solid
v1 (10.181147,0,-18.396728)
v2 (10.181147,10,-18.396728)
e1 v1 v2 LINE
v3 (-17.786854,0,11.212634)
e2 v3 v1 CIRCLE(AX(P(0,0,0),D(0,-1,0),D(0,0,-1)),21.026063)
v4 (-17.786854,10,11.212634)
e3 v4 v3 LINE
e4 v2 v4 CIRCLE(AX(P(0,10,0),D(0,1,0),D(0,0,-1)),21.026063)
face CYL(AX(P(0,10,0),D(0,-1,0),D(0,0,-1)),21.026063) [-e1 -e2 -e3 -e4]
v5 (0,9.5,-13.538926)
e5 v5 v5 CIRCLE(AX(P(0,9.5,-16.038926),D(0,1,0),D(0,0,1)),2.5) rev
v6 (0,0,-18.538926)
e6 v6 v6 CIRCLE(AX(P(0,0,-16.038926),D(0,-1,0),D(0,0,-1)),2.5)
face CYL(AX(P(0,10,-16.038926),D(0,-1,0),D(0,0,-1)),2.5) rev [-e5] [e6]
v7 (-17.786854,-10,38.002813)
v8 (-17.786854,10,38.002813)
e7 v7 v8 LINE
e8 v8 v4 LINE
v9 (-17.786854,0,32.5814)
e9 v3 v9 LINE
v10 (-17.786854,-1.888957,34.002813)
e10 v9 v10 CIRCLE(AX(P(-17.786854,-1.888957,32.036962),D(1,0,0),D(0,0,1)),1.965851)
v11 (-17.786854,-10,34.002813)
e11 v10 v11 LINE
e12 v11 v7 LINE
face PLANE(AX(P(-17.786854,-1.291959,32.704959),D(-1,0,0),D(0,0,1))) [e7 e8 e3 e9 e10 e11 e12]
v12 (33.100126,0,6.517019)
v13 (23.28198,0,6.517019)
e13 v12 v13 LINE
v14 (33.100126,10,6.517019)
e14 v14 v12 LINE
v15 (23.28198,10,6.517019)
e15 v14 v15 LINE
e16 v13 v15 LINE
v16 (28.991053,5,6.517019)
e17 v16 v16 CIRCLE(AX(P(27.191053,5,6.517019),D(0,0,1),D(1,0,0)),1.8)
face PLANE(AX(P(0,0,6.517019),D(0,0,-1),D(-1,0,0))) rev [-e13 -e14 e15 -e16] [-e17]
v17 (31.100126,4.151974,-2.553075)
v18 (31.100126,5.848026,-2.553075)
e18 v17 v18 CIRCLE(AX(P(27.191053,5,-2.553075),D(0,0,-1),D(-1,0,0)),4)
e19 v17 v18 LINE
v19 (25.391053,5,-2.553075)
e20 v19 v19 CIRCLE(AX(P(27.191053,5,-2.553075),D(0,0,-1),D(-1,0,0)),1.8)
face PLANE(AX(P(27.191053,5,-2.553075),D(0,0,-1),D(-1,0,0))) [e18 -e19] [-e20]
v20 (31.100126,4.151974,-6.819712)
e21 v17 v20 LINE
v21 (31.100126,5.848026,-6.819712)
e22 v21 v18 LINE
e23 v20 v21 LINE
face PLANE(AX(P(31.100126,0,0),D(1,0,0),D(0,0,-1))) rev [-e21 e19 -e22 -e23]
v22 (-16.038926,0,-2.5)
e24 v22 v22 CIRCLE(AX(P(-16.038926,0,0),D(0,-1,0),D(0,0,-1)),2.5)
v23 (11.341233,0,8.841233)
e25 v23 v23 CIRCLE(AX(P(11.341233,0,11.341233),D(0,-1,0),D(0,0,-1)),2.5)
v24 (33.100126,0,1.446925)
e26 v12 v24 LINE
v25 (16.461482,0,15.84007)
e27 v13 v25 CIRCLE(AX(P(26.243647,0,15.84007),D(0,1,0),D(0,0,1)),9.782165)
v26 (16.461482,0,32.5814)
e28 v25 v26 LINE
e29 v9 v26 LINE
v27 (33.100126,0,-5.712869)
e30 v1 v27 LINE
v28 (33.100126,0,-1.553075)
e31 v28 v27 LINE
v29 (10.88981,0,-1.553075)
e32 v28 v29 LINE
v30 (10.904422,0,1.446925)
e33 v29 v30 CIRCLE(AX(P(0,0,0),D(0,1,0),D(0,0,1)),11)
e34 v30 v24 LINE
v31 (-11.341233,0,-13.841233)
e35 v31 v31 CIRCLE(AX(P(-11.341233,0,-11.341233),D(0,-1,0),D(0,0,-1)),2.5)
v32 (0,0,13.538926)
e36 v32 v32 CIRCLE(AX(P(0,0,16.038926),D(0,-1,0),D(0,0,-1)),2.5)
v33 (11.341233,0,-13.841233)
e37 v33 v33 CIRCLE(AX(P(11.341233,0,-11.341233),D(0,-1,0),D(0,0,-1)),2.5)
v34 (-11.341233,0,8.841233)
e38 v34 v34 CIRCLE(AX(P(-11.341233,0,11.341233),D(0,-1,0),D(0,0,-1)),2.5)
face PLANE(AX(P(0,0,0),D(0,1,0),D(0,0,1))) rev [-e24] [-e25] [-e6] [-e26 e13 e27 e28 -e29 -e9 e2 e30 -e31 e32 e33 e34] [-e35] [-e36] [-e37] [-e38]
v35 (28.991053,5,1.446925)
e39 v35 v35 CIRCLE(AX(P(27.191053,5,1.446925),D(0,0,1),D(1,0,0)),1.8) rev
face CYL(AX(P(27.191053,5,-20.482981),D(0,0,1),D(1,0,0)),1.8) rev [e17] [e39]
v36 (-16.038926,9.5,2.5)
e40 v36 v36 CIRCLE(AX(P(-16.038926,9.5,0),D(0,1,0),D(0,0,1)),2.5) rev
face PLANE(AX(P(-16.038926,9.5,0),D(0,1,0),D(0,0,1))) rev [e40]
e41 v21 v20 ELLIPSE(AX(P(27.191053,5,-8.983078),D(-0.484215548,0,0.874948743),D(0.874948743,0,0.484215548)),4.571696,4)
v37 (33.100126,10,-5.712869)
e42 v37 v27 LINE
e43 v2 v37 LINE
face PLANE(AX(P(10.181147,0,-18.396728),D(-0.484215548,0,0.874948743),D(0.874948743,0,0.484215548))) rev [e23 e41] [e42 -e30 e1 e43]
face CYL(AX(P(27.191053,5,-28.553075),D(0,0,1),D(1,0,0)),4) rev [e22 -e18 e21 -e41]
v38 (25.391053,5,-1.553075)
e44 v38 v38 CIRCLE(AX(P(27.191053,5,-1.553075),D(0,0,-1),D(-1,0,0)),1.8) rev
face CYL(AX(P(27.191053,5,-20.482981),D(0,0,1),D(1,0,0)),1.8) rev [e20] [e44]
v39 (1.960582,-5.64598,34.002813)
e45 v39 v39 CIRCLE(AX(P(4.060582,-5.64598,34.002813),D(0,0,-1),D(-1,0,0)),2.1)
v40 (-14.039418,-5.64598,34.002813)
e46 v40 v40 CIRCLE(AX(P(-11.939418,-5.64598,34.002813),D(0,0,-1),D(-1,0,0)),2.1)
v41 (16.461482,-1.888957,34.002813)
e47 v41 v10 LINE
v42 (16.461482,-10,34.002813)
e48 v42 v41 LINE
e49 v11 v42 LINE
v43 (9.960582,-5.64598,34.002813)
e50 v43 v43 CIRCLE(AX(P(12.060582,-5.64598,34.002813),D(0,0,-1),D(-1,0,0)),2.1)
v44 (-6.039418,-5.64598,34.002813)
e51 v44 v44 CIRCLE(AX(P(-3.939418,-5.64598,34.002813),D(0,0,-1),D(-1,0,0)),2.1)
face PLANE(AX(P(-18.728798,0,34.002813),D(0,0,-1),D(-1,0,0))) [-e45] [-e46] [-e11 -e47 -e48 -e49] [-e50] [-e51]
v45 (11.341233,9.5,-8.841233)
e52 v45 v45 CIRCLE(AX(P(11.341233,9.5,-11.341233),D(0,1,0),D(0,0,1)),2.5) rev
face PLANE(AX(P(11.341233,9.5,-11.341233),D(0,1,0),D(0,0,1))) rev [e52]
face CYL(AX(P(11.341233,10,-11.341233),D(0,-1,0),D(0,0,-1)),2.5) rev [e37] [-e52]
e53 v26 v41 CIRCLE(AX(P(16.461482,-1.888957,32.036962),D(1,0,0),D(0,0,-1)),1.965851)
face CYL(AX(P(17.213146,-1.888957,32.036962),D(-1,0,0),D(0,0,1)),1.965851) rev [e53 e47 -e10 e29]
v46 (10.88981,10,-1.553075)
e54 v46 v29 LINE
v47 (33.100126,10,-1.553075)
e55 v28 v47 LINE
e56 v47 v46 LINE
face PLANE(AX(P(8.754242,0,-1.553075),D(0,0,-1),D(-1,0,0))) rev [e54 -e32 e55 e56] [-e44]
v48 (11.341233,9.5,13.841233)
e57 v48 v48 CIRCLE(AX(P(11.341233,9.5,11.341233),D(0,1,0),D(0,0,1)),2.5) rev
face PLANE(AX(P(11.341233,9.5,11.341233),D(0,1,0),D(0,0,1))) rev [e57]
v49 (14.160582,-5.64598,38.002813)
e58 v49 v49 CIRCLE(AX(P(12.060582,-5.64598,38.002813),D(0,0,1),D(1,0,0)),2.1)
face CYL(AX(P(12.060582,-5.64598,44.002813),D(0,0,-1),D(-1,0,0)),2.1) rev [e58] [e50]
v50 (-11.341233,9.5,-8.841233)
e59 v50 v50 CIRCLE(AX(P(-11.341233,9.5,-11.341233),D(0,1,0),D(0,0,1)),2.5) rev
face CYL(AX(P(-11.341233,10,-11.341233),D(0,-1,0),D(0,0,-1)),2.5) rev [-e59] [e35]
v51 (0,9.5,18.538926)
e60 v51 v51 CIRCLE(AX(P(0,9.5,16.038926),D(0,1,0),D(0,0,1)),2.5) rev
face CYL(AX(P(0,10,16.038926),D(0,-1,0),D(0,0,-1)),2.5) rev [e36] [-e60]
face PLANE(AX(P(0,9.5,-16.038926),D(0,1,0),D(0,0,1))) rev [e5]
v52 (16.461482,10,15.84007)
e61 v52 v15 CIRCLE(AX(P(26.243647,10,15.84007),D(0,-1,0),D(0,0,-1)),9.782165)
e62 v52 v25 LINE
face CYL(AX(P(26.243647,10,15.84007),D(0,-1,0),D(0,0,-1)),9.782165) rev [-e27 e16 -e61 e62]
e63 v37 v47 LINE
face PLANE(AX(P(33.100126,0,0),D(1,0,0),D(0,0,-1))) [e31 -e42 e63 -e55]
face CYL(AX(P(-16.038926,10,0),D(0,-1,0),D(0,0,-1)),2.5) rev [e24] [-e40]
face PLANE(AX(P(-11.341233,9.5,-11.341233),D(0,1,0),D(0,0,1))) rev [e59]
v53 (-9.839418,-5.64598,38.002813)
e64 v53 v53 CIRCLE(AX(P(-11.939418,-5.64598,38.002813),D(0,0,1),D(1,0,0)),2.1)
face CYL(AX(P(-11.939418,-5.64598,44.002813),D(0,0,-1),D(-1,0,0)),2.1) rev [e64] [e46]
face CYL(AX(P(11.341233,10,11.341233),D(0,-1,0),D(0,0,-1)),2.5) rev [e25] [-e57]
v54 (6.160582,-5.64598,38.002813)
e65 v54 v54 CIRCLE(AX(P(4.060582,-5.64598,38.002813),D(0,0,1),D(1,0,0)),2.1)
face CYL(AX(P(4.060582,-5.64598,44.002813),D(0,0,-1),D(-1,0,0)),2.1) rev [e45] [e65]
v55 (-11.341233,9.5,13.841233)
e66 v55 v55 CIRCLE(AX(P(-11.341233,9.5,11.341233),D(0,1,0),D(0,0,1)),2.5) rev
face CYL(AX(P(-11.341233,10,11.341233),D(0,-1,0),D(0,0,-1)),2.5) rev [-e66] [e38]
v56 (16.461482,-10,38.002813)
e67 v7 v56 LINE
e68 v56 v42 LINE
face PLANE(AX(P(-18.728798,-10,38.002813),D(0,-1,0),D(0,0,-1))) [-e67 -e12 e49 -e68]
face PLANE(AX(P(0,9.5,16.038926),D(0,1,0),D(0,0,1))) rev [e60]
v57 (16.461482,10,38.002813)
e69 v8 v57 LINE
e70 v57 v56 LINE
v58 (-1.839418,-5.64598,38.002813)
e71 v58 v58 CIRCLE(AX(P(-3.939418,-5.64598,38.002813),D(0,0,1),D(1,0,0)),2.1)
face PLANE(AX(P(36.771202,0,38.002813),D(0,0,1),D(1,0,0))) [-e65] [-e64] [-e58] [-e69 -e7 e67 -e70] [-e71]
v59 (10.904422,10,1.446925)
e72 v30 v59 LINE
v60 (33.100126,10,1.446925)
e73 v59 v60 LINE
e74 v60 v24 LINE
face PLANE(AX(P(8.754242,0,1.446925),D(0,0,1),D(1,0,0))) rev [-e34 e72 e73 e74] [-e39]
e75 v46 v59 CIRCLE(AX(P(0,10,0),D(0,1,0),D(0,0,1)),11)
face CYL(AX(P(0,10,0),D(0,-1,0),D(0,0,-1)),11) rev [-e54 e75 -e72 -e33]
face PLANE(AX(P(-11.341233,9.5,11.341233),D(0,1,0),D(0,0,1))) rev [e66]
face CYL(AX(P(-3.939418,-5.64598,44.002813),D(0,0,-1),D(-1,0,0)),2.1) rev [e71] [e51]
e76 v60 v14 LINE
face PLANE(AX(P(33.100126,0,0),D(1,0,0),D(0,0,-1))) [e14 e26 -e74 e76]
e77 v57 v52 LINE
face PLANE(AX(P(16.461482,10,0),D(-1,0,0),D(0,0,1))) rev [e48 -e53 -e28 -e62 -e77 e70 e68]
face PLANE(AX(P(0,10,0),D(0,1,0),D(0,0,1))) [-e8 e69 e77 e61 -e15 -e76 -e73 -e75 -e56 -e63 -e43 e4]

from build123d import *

# Parameters (mm, degrees)
SKETCH_1_R                       = 27
SKETCH_1_R_2                     = 11
EXTRUDE_1_DEPTH                  = 10
SKETCH_2_W                       = 22.095017754
SKETCH_2_H                       = 3
CUT_EXTRUDE_5_DEPTH              = 10
EXTRUDE_6_DEPTH                  = 10
EXTRUDE_7_DEPTH                  = 10
SKETCH_5_W                       = 10
SKETCH_5_H                       = 31.875888506
CUT_EXTRUDE_6_DEPTH              = 10
EXTRUDE_8_DEPTH                  = 10
SKETCH_7_R                       = 1.8
CUT_EXTRUDE_7_DEPTH              = 25
SKETCH_9_R                       = 3
CUT_EXTRUDE_8_DEPTH              = 25
SKETCH_10_R                      = 3
SKETCH_10_R_2                    = 1.8
EXTRUDE_9_DEPTH                  = 10
SKETCH_11_W                      = 6.352022703
SKETCH_11_H                      = 3
CUT_EXTRUDE_9_DEPTH              = 10
CUT_EXTRUDE_START                = -10
CUT_EXTRUDE_11_DEPTH             = 10
SKETCH_19_W                      = 12.590596853
SKETCH_19_H                      = 36.443103769
EXTRUDE_10_DEPTH                 = 10
CUT_EXTRUDE_16_DEPTH             = 45.4
SKETCH_23_W                      = 4
SKETCH_23_H                      = 10
EXTRUDE_14_DEPTH                 = 45.5
CUT_EXTRUDE_17_DEPTH             = 45.5
EXTRUDE_15_DEPTH                 = 45.5
SKETCH_26_W                      = 0.328740034
SKETCH_26_H                      = 1.346185816
CUT_EXTRUDE_18_DEPTH             = 45.5
SKETCH_28_R                      = 2.5
CUT_EXTRUDE_19_DEPTH             = 45.5
SKETCH_30_R                      = 1.8
CUT_EXTRUDE_21_DEPTH             = 45.5
SKETCH_31_R                      = 2.5
EXTRUDE_16_DEPTH                 = 10
CUT_EXTRUDE_23_DEPTH             = 10
CUT_EXTRUDE_23_DEPTH_BACK        = 10
CUT_EXTRUDE_24_DEPTH             = 10
CUT_EXTRUDE_25_DEPTH             = 10
SKETCH_35_R                      = 2.5
CUT_EXTRUDE_26_DEPTH             = 10
CUT_EXTRUDE_28_REACH             = 55.82
CUT_EXTRUDE_28_DIRECTION_2_DEPTH = 10
EXTRUDE_17_DEPTH                 = 10
EXTRUDE_18_DEPTH                 = 35
SKETCH_41_W                      = 10.589604426
SKETCH_41_H                      = 19.03102185
CUT_EXTRUDE_29_DEPTH             = 8
EXTRUDE_19_DEPTH                 = 10
CUT_EXTRUDE_30_DEPTH             = 10
SKETCH_44_W                      = 12.06182449
SKETCH_44_H                      = 13.548079332
CUT_EXTRUDE_31_DEPTH             = 10
EXTRUDE_20_DEPTH                 = 10
SKETCH_46_R                      = 1.8
CUT_EXTRUDE_33_DEPTH             = 27
SKETCH_48_R                      = 4
CUT_EXTRUDE_34_DEPTH             = 27
SKETCH_49_W                      = 13.336731655
SKETCH_49_H                      = 10
EXTRUDE_21_DEPTH                 = 2
CUT_EXTRUDE_35_DEPTH             = 14
SKETCH_53_R                      = 4
SKETCH_53_R_2                    = 1.8
EXTRUDE_22_DEPTH                 = 4
SKETCH_54_W                      = 11.097852062
SKETCH_54_H                      = 3
CUT_EXTRUDE_36_DEPTH             = 11
SKETCH_55_R                      = 1.8
CUT_EXTRUDE_37_DEPTH             = 10
SKETCH_56_R                      = 2.5
EXTRUDE_23_DEPTH                 = 0.5
SKETCH_57_R                      = 2.1
CUT_EXTRUDE_38_DEPTH             = 10


with BuildPart() as part:
    # 草圖1 → 填料-伸長1 (new body)
    with BuildSketch(Plane(origin=(0, 0, 0), x_dir=(1, 0, 0), z_dir=(0, 1, 0))):
        with Locations(Location((0, 0, 0), (0, 0, 270))):
            Circle(SKETCH_1_R)
        with Locations(Location((0, 0, 0), (0, 0, 270))):
            Circle(SKETCH_1_R_2, mode=Mode.SUBTRACT)
    extrude(amount=EXTRUDE_1_DEPTH)

    # 草圖2 → 除料-伸長5 (cut)
    with BuildSketch(Plane(origin=(0, 10, 0), x_dir=(1, 0, 0), z_dir=(0, 1, 0))):
        with Locations((19.801751301, 0.053075405)):
            Rectangle(SKETCH_2_W, SKETCH_2_H)
    extrude(amount=-CUT_EXTRUDE_5_DEPTH, mode=Mode.SUBTRACT)

    # 草圖3 → 填料-伸長6 (add)
    with BuildSketch(Plane(origin=(0, 10, 0), x_dir=(1, 0, 0), z_dir=(0, 1, 0))):
        Polygon((26.955295524, 1.553075405), (36.774942479, 1.553075405), (36.774942479, 6.233042813), (16.156778885, 21.632348371), align=None)
    extrude(amount=-EXTRUDE_6_DEPTH)

    # 草圖4 → 填料-伸長7 (add)
    with BuildSketch(Plane(origin=(0, 10, 0), x_dir=(1, 0, 0), z_dir=(0, 1, 0))):
        Polygon((26.961201925, -1.446924595), (36.771201925, -1.446924595), (36.771201925, -38.002813101), (-26.958798075, -38.002813101), (-27, 0), (-10.999869528, -0.053575877), (-10.999869528, -22.141468438), (17.239278233, -20.779973195), align=None)
    extrude(amount=-EXTRUDE_7_DEPTH)

    # 草圖5 → 除料-伸長6 (cut)
    with BuildSketch(Plane(origin=(0, 10, 0), x_dir=(1, 0, 0), z_dir=(0, 1, 0))):
        with Locations((31.771201925, -22.064868848)):
            Rectangle(SKETCH_5_W, SKETCH_5_H)
    extrude(amount=-CUT_EXTRUDE_6_DEPTH, mode=Mode.SUBTRACT)

    # 草圖6 → 填料-伸長8 (add)
    with BuildSketch(Plane(origin=(0, 10, 0), x_dir=(1, 0, 0), z_dir=(0, 1, 0))):
        with BuildLine():
            Line((28.570335935, -6.126924595), (26.771201925, -6.126924595))
            Line((26.771201925, -6.126924595), (26.771201925, -8.915002743))
            ThreePointArc((26.771201925, -8.915002743), (27.260031865, -7.255916929), (28.570335935, -6.126924595))
        make_face()
    extrude(amount=-EXTRUDE_8_DEPTH)

    # 草圖7 → 除料-伸長7 (cut)
    with BuildSketch(Plane.XY.offset(6.126924595)):
        with Locations((31.771201925, 5)):
            Circle(SKETCH_7_R)
    extrude(amount=-CUT_EXTRUDE_7_DEPTH, mode=Mode.SUBTRACT)

    # 草圖9 → 除料-伸長8 (cut)
    with BuildSketch(Plane.XY.offset(6.126924595)):
        with Locations((31.771201925, 5)):
            Circle(SKETCH_9_R)
    extrude(amount=-CUT_EXTRUDE_8_DEPTH, mode=Mode.SUBTRACT)

    # 草圖10 → 填料-伸長9 (add)
    with BuildSketch(Plane.XY.offset(6.126924595)):
        with Locations((31.771201925, 5)):
            Circle(SKETCH_10_R)
        with Locations((31.771201925, 5)):
            Circle(SKETCH_10_R_2, mode=Mode.SUBTRACT)
    extrude(amount=-EXTRUDE_9_DEPTH)

    # 草圖11 → 除料-伸長9 (cut)
    with BuildSketch(Plane(origin=(0, 10, 0), x_dir=(1, 0, 0), z_dir=(0, 1, 0))):
        with Locations((31.710814777, 0.053075405)):
            Rectangle(SKETCH_11_W, SKETCH_11_H)
    extrude(amount=-CUT_EXTRUDE_9_DEPTH, mode=Mode.SUBTRACT)

    # 草圖12 → 除料-伸長11 (cut)
    with BuildSketch(Plane(origin=(0, 10, 0), x_dir=(1, 0, 0), z_dir=(0, 1, 0)).offset(CUT_EXTRUDE_START)):
        with BuildLine():
            Line((-26.958798075, -1.916110557), (-26.958798075, -38.002813101))
            Line((-26.958798075, -38.002813101), (-22.958798075, -38.002813101))
            Line((-22.958798075, -38.002813101), (-22.958798075, -14.208926452))
            ThreePointArc((-22.958798075, -14.208926452), (-25.691425872, -8.303652008), (-26.931923814, -1.916110557))
            Line((-26.931923814, -1.916110557), (-26.958798075, -1.916110557))
        make_face()
    extrude(amount=CUT_EXTRUDE_11_DEPTH, mode=Mode.SUBTRACT)

    # 草圖19 → 填料-伸長10 (add)
    with BuildSketch(Plane(origin=(0, 10, 0), x_dir=(1, 0, 0), z_dir=(0, 1, 0))):
        with Locations((-20.703010567, -19.781261216)):
            Rectangle(SKETCH_19_W, SKETCH_19_H)
    extrude(amount=-EXTRUDE_10_DEPTH)

    # 草圖20 → 除料-伸長16 (cut)
    with BuildSketch(Plane(origin=(0, 10, 0), x_dir=(1, 0, 0), z_dir=(0, 1, 0))):
        with BuildLine():
            Line((-29.650037287, -38.002813101), (-26.998308993, -38.002813101))
            Line((-26.998308993, -38.002813101), (-26.998308993, -1.559709332))
            Line((-26.998308993, -1.559709332), (-26.999389481, -0.563115103))
            ThreePointArc((-26.999389481, -0.563115103), (-27.003472798, -0.310785854), (-27.005197962, -0.058429465))
            Line((-27.005197962, -0.058429465), (-29.650037287, 0))
            Line((-29.650037287, 0), (-29.650037287, -38.002813101))
        make_face()
        with BuildLine():
            Line((-26.998308993, -38.002813101), (-18.650037287, -38.002813101))
            Line((-18.650037287, -38.002813101), (-18.650037287, -19.531007147))
            ThreePointArc((-18.650037287, -19.531007147), (-24.716649717, -10.87986019), (-26.999389481, -0.563115103))
            Line((-26.999389481, -0.563115103), (-26.998308993, -1.559709332))
            Line((-26.998308993, -1.559709332), (-26.998308993, -38.002813101))
        make_face()
    extrude(amount=-CUT_EXTRUDE_16_DEPTH, mode=Mode.SUBTRACT)

    # 草圖23 → 填料-伸長14 (add)
    with BuildSketch(Plane(origin=(26.771201925, 0, 0), x_dir=(0, 0, -1), z_dir=(1, 0, 0))):
        with Locations((-36.002813101, -5)):
            Rectangle(SKETCH_23_W, SKETCH_23_H)
    extrude(amount=-EXTRUDE_14_DEPTH)

    # 草圖24 → 除料-伸長17 (cut)
    with BuildSketch(Plane(origin=(0, 10, 0), x_dir=(1, 0, 0), z_dir=(0, 1, 0))):
        with BuildLine():
            Line((-22.875040088, -38.002813101), (-18.650037287, -38.002813101))
            Line((-18.650037287, -38.002813101), (-18.650037287, -19.531007147))
            ThreePointArc((-18.650037287, -19.531007147), (-19.783571885, -18.381904538), (-20.846430488, -17.167133333))
            Line((-20.846430488, -17.167133333), (-22.875040088, -17.167133333))
            Line((-22.875040088, -17.167133333), (-22.875040088, -38.002813101))
        make_face()
    extrude(amount=-CUT_EXTRUDE_17_DEPTH, mode=Mode.SUBTRACT)

    # 草圖25 → 填料-伸長15 (add)
    with BuildSketch(Plane(origin=(26.771201925, 0, 0), x_dir=(0, 0, -1), z_dir=(1, 0, 0))):
        with BuildLine():
            Line((-34.002813101, 0), (-34.002813101, -1.291959452))
            ThreePointArc((-34.002813101, -1.291959452), (-33.541813444, -0.371252566), (-32.58140031, 0))
            Line((-32.58140031, 0), (-34.002813101, 0))
        make_face()
    extrude(amount=-EXTRUDE_15_DEPTH)

    # 草圖26 → 除料-伸長18 (cut)
    with BuildSketch(Plane.XY.offset(38.002813101)):
        with Locations((-18.814407304, -0.673092908)):
            Rectangle(SKETCH_26_W, SKETCH_26_H)
    extrude(amount=-CUT_EXTRUDE_18_DEPTH, mode=Mode.SUBTRACT)

    # 草圖28 → 除料-伸長19 (cut)
    with BuildSketch(Plane(origin=(0, 10, 0), x_dir=(1, 0, 0), z_dir=(0, 1, 0))):
        with Locations(Location((0, 19.568388114, 0), (0, 0, 270))):
            Circle(SKETCH_28_R)
        with Locations(Location((10, 17.068388114, 0), (0, 0, 270))):
            Circle(SKETCH_28_R)
        with Locations(Location((-10.003691547, 17.068388114, 0), (0, 0, 270))):
            Circle(SKETCH_28_R)
        with Locations(Location((-18.488688393, 0, 0), (0, 0, 270))):
            Circle(SKETCH_28_R)
        with Locations(Location((-15.988688393, 10.029350154, 0), (0, 0, 270))):
            Circle(SKETCH_28_R)
        with Locations(Location((-15.988688393, -10.054369158, 0), (0, 0, 270))):
            Circle(SKETCH_28_R)
        with Locations(Location((15.383048832, 10.029350154, 0), (0, 0, 270))):
            Circle(SKETCH_28_R)
    extrude(amount=-CUT_EXTRUDE_19_DEPTH, mode=Mode.SUBTRACT)

    # 草圖30 → 除料-伸長21 (cut)
    with BuildSketch(Plane(origin=(0, 0, 34.002813101), x_dir=(-1, 0, 0), z_dir=(0, 0, -1))):
        with Locations((3.939417681, -5.645979726)):
            Circle(SKETCH_30_R)
        with Locations((-4.060582319, -5.645979726)):
            Circle(SKETCH_30_R)
        with Locations((-12.060582319, -5.645979726)):
            Circle(SKETCH_30_R)
        with Locations((-20.060582319, -5.645979726)):
            Circle(SKETCH_30_R)
        with Locations((11.939417681, -5.645979726)):
            Circle(SKETCH_30_R)
    extrude(amount=-CUT_EXTRUDE_21_DEPTH, mode=Mode.SUBTRACT)

    # 草圖31 → 填料-伸長16 (add)
    with BuildSketch(Plane(origin=(0, 10, 0), x_dir=(1, 0, 0), z_dir=(0, 1, 0))):
        with Locations((-18.488688393, 0)):
            Circle(SKETCH_31_R)
        with Locations((-15.988688393, 10.029350154)):
            Circle(SKETCH_31_R)
        with Locations((15.383048832, 10.029350154)):
            Circle(SKETCH_31_R)
        with Locations((10, 17.068388114)):
            Circle(SKETCH_31_R)
        with Locations((0, 19.568388114)):
            Circle(SKETCH_31_R)
        with Locations((-15.988688393, -10.054369158)):
            Circle(SKETCH_31_R)
        with Locations((-10.003691547, 17.068388114)):
            Circle(SKETCH_31_R)
    extrude(amount=-EXTRUDE_16_DEPTH)

    # 草圖32 → 除料-伸長23 (cut, two sides: drawn at the far end of the back side and taken through both)
    with BuildSketch(Plane(origin=(0, 0, 0), x_dir=(-1, 0, 0), z_dir=(0, -1, 0)).offset(-CUT_EXTRUDE_23_DEPTH_BACK)):
        Polygon((7.786853888, -32.58140031), (7.786853888, -19.531007147), (18.650037287, -19.531007147), (18.650037287, -32.58140031), (18.650037287, -42.504836079), (7.786853888, -42.504836079), align=None)
    extrude(amount=CUT_EXTRUDE_23_DEPTH + CUT_EXTRUDE_23_DEPTH_BACK, mode=Mode.SUBTRACT)

    # 草圖33 → 除料-伸長24 (cut)
    with BuildSketch(Plane(origin=(0, 0, 0), x_dir=(-1, 0, 0), z_dir=(0, -1, 0))):
        with BuildLine():
            Line((-14.357219189, 15.361171531), (-21.139696125, 22.617924405))
            Line((-21.139696125, 22.617924405), (1.281017386, 36.775323206))
            Line((1.281017386, 36.775323206), (35.703109951, 9.003834991))
            Line((35.703109951, 9.003834991), (17.752702844, -25.274837626))
            Line((17.752702844, -25.274837626), (7.786853888, -19.531007147))
            ThreePointArc((7.786853888, -19.531007147), (17.752702844, 11.266626619), (-14.357219189, 15.361171531))
        make_face()
    extrude(amount=-CUT_EXTRUDE_24_DEPTH, mode=Mode.SUBTRACT)

    # 草圖34 → 除料-伸長25 (cut)
    with BuildSketch(Plane(origin=(0, 0, 0), x_dir=(-1, 0, 0), z_dir=(0, -1, 0))):
        Polygon((-14.357219189, 15.361171531), (-36.774942479, 6.233042813), (-37.276444093, 15.861092082), (-16.552485282, 23.300431357), align=None)
    extrude(amount=-CUT_EXTRUDE_25_DEPTH, mode=Mode.SUBTRACT)

    # 草圖35 → 除料-伸長26 (cut)
    with BuildSketch(Plane(origin=(0, 0, 0), x_dir=(-1, 0, 0), z_dir=(0, -1, 0))):
        with Locations(Location((-11.341233129, 11.341233129, 0), (0, 0, 90))):
            Circle(SKETCH_35_R)
        with Locations(Location((0, 16.038925705, 0), (0, 0, 90))):
            Circle(SKETCH_35_R)
        with Locations(Location((11.341233129, 11.341233129, 0), (0, 0, 90))):
            Circle(SKETCH_35_R)
        with Locations(Location((16.038925705, 0, 0), (0, 0, 90))):
            Circle(SKETCH_35_R)
        with Locations(Location((11.341233129, -11.341233129, 0), (0, 0, 90))):
            Circle(SKETCH_35_R)
        with Locations(Location((0, -16.038925705, 0), (0, 0, 90))):
            Circle(SKETCH_35_R)
        with Locations(Location((-11.341233129, -11.341233129, 0), (0, 0, 90))):
            Circle(SKETCH_35_R)
    extrude(amount=-CUT_EXTRUDE_26_DEPTH, mode=Mode.SUBTRACT)

    # 除料-伸長28: up to this face of the body (flat: up to its plane)
    cut_extrude_28_end = Plane(part.part.faces().sort_by_distance((9.492174018, -10, 36.002813101))[0])
    # 草圖36 → 除料-伸長28 (cut, up to the picked face)
    with BuildSketch(Plane(origin=(0, 0, 0), x_dir=(-1, 0, 0), z_dir=(0, -1, 0)), mode=Mode.PRIVATE) as cut_extrude_28_sk1:
        with BuildLine():
            Line((-29.245777926, -32.58140031), (-26.771201925, -32.58140031))
            Line((-26.771201925, -32.58140031), (-26.771201925, -8.915002743))
            ThreePointArc((-26.771201925, -8.915002743), (-27.260031865, -7.255916929), (-28.570335935, -6.126924595))
            Line((-28.570335935, -6.126924595), (-36.771201925, -6.126924595))
            Line((-36.771201925, -6.126924595), (-36.771201925, -32.58140031))
            Line((-36.771201925, -32.58140031), (-29.245777926, -32.58140031))
        make_face()
    cut_extrude_28_tool1 = split(extrude(cut_extrude_28_sk1.sketch, amount=CUT_EXTRUDE_28_REACH, mode=Mode.PRIVATE), bisect_by=cut_extrude_28_end, keep=Keep.BOTH, mode=Mode.PRIVATE)
    # 草圖36 → 除料-伸長28 (cut, up to the picked face)
    with BuildSketch(Plane(origin=(0, 0, 0), x_dir=(-1, 0, 0), z_dir=(0, -1, 0)), mode=Mode.PRIVATE) as cut_extrude_28_sk2:
        with BuildLine():
            Line((-26.771201925, -32.58140031), (-16.46148187, -32.58140031))
            Line((-16.46148187, -32.58140031), (-16.46148187, -15.840070304))
            ThreePointArc((-16.46148187, -15.840070304), (-19.326611723, -8.923034955), (-26.243647071, -6.057905103))
            Line((-26.243647071, -6.057905103), (-36.771201925, -6.057905103))
            Line((-36.771201925, -6.057905103), (-36.771201925, -6.126924595))
            Line((-36.771201925, -6.126924595), (-28.570335935, -6.126924595))
            ThreePointArc((-28.570335935, -6.126924595), (-27.260031865, -7.255916929), (-26.771201925, -8.915002743))
            Line((-26.771201925, -8.915002743), (-26.771201925, -32.58140031))
        make_face()
    cut_extrude_28_tool2 = split(extrude(cut_extrude_28_sk2.sketch, amount=CUT_EXTRUDE_28_REACH, mode=Mode.PRIVATE), bisect_by=cut_extrude_28_end, keep=Keep.BOTH, mode=Mode.PRIVATE)
    # 草圖36 → 除料-伸長28 (cut, up to the picked face)
    with BuildSketch(Plane(origin=(0, 0, 0), x_dir=(-1, 0, 0), z_dir=(0, -1, 0)), mode=Mode.PRIVATE) as cut_extrude_28_sk3:
        Polygon((-16.46148187, -48.732099881), (-16.46148187, -32.58140031), (-26.771201925, -32.58140031), (-29.245777926, -32.58140031), (-29.245777926, -48.732099881), align=None)
    cut_extrude_28_tool3 = split(extrude(cut_extrude_28_sk3.sketch, amount=CUT_EXTRUDE_28_REACH, mode=Mode.PRIVATE), bisect_by=cut_extrude_28_end, keep=Keep.BOTH, mode=Mode.PRIVATE)
    add(cut_extrude_28_tool1.solids().sort_by(Axis((31.795312, 0, 19.42147), (0, -1, 0)))[0], mode=Mode.SUBTRACT)
    add(cut_extrude_28_tool2.solids().sort_by(Axis((21.914175, 0, 20.106567), (0, -1, 0)))[0], mode=Mode.SUBTRACT)
    add(cut_extrude_28_tool3.solids().sort_by(Axis((22.85363, 0, 40.65675), (0, -1, 0)))[0], mode=Mode.SUBTRACT)

    # 草圖36 → 除料-伸長28 direction 2 (cut)
    with BuildSketch(Plane(origin=(0, 0, 0), x_dir=(-1, 0, 0), z_dir=(0, -1, 0))):
        with BuildLine():
            Line((-29.245777926, -32.58140031), (-26.771201925, -32.58140031))
            Line((-26.771201925, -32.58140031), (-26.771201925, -8.915002743))
            ThreePointArc((-26.771201925, -8.915002743), (-27.260031865, -7.255916929), (-28.570335935, -6.126924595))
            Line((-28.570335935, -6.126924595), (-36.771201925, -6.126924595))
            Line((-36.771201925, -6.126924595), (-36.771201925, -32.58140031))
            Line((-36.771201925, -32.58140031), (-29.245777926, -32.58140031))
        make_face()
        with BuildLine():
            Line((-26.771201925, -32.58140031), (-16.46148187, -32.58140031))
            Line((-16.46148187, -32.58140031), (-16.46148187, -15.840070304))
            ThreePointArc((-16.46148187, -15.840070304), (-19.326611723, -8.923034955), (-26.243647071, -6.057905103))
            Line((-26.243647071, -6.057905103), (-36.771201925, -6.057905103))
            Line((-36.771201925, -6.057905103), (-36.771201925, -6.126924595))
            Line((-36.771201925, -6.126924595), (-28.570335935, -6.126924595))
            ThreePointArc((-28.570335935, -6.126924595), (-27.260031865, -7.255916929), (-26.771201925, -8.915002743))
            Line((-26.771201925, -8.915002743), (-26.771201925, -32.58140031))
        make_face()
        Polygon((-16.46148187, -48.732099881), (-16.46148187, -32.58140031), (-26.771201925, -32.58140031), (-29.245777926, -32.58140031), (-29.245777926, -48.732099881), align=None)
    extrude(amount=-CUT_EXTRUDE_28_DIRECTION_2_DEPTH, mode=Mode.SUBTRACT)

    # 草圖38 → 填料-伸長17 (add)
    with BuildSketch(Plane.ZY.offset(7.786853888)):
        with BuildLine():
            Line((19.531007147, 0), (19.531007147, 10))
            Line((19.531007147, 10), (38.002813101, 10))
            Line((38.002813101, 10), (38.002813101, -10))
            Line((38.002813101, -10), (34.002813101, -10))
            Line((34.002813101, -10), (34.002813101, -1.291959452))
            ThreePointArc((34.002813101, -1.291959452), (33.577903495, -0.331546319), (32.58140031, 0))
            Line((32.58140031, 0), (19.531007147, 0))
        make_face()
    extrude(amount=EXTRUDE_17_DEPTH)

    # 草圖40 → 填料-伸長18 (add)
    with BuildSketch(Plane.ZY.offset(17.786853888)):
        with BuildLine():
            Line((34.002813101, -1.888956522), (37.181733072, -1.888956522))
            Line((37.181733072, -1.888956522), (35.37419013, 3.598878428))
            Line((35.37419013, 3.598878428), (31.081694561, 2.185047629))
            Line((31.081694561, 2.185047629), (32.58140031, 0))
            ThreePointArc((32.58140031, 0), (33.607766756, -0.706948584), (34.002813101, -1.888956522))
        make_face()
    extrude(amount=-EXTRUDE_18_DEPTH)

    # 草圖41 → 除料-伸長29 (cut)
    with BuildSketch(Plane(origin=(16.46148187, 0, 0), x_dir=(0, 0, -1), z_dir=(1, 0, 0))):
        with Locations((-32.708010888, -1.746915748)):
            Rectangle(SKETCH_41_W, SKETCH_41_H)
    extrude(amount=CUT_EXTRUDE_29_DEPTH, mode=Mode.SUBTRACT)

    # 草圖42 → 填料-伸長19 (add)
    with BuildSketch(Plane(origin=(0, 0, 0), x_dir=(-1, 0, 0), z_dir=(0, -1, 0))):
        Polygon((17.786853888, -19.531007147), (17.786853888, -11.212634053), (7.786853888, -19.531007147), align=None)
    extrude(amount=-EXTRUDE_19_DEPTH)

    # 草圖43 → 除料-伸長30 (cut)
    with BuildSketch(Plane(origin=(0, 10, 0), x_dir=(1, 0, 0), z_dir=(0, 1, 0)).offset(CUT_EXTRUDE_START)):
        with BuildLine():
            Line((19.990592639, -6.517019226), (36.771201925, -6.517019226))
            Line((36.771201925, -6.517019226), (36.771201925, -1.446924595))
            Line((36.771201925, -1.446924595), (36.774942479, 6.233042813))
            Line((36.774942479, 6.233042813), (14.357219189, 15.361171531))
            ThreePointArc((14.357219189, 15.361171531), (20.361897064, 5.24294589), (19.990592639, -6.517019226))
        make_face()
    extrude(amount=CUT_EXTRUDE_30_DEPTH, mode=Mode.SUBTRACT)


with BuildPart() as cut_extrude_30_piece_1:
    # of the separate pieces the step leaves, piece 1, a body of its own (cut_extrude_30_pieces)
    add(part.part.solids().sort_by_distance((20.968626336, 0, -1.553075405))[0])

    # 草圖45 → 填料-伸長20 (add)
    with BuildSketch(Plane(origin=(0, 10, 0), x_dir=(1, 0, 0), z_dir=(0, 1, 0))):
        with BuildLine():
            Line((31.100125668, 6.819712429), (10.181146705, 18.396727574))
            ThreePointArc((10.181146705, 18.396727574), (17.706051077, 11.339801097), (20.968626336, 1.553075405))
            Line((20.968626336, 1.553075405), (31.100125668, 1.553075405))
            Line((31.100125668, 1.553075405), (31.100125668, 6.819712429))
        make_face()
        with BuildLine():
            ThreePointArc((20.976218507, -1.446924595), (20.639679474, -4.01235154), (19.990592639, -6.517019226))
            Line((19.990592639, -6.517019226), (23.281979531, -6.517019226))
            Line((23.281979531, -6.517019226), (31.100125668, -6.517019226))
            Line((31.100125668, -6.517019226), (31.100125668, -1.446924595))
            Line((31.100125668, -1.446924595), (20.976218507, -1.446924595))
        make_face()
    extrude(amount=-EXTRUDE_20_DEPTH)

    # 草圖46 → 除料-伸長33 (cut)
    with BuildSketch(Plane.XY.offset(6.517019226)):
        with Locations((27.191052599, 5)):
            Circle(SKETCH_46_R)
    extrude(amount=-CUT_EXTRUDE_33_DEPTH, mode=Mode.SUBTRACT)

    # 草圖48 → 除料-伸長34 (cut)
    with BuildSketch(Plane.XY.offset(-1.553075405)):
        with Locations((27.191052599, 5)):
            Circle(SKETCH_48_R)
    extrude(amount=-CUT_EXTRUDE_34_DEPTH, mode=Mode.SUBTRACT)

    # 草圖49 → 填料-伸長21 (add)
    with BuildSketch(Plane(origin=(31.100125668, 0, 0), x_dir=(0, 0, -1), z_dir=(1, 0, 0))):
        with Locations((0.151346602, 5)):
            Rectangle(SKETCH_49_W, SKETCH_49_H)
    extrude(amount=EXTRUDE_21_DEPTH)

    # 草圖52 → 除料-伸長35 (cut)
    with BuildSketch(Plane(origin=(0, 0, 0), x_dir=(-1, 0, 0), z_dir=(0, -1, 0))):
        Polygon((-29.338824592, 7.794454517), (-33.295122994, 5.604953461), (-33.295122994, 7.794454517), align=None)
        Polygon((-31.100125668, 1.553075405), (-34.213503752, 1.553075405), (-36.130944669, -1.446924595), (-31.100125668, -1.446924595), align=None)
    extrude(amount=-CUT_EXTRUDE_35_DEPTH, mode=Mode.SUBTRACT)

    # 草圖53 → 填料-伸長22 (add)
    with BuildSketch(Plane(origin=(0, 0, 1.446924595), x_dir=(-1, 0, 0), z_dir=(0, 0, -1))):
        with Locations(Location((-27.191052599, 5, 0), (0, 0, 180))):
            Circle(SKETCH_53_R)
        with Locations(Location((-27.191052599, 5, 0), (0, 0, 180))):
            Circle(SKETCH_53_R_2, mode=Mode.SUBTRACT)
    extrude(amount=EXTRUDE_22_DEPTH)

    # 草圖54 → 除料-伸長36 (cut)
    with BuildSketch(Plane(origin=(0, 0, 0), x_dir=(-1, 0, 0), z_dir=(0, -1, 0))):
        with Locations((-27.551199637, 0.053075405)):
            Rectangle(SKETCH_54_W, SKETCH_54_H)
    extrude(amount=-CUT_EXTRUDE_36_DEPTH, mode=Mode.SUBTRACT)

    # 草圖55 → 除料-伸長37 (cut)
    with BuildSketch(Plane(origin=(0, 0, 34.002813101), x_dir=(-1, 0, 0), z_dir=(0, 0, -1))):
        with Locations((11.939417681, -5.645979726)):
            Circle(SKETCH_55_R)
    extrude(amount=-CUT_EXTRUDE_37_DEPTH, mode=Mode.SUBTRACT)

    # 草圖56 → 填料-伸長23 (add)
    with BuildSketch(Plane(origin=(0, 10, 0), x_dir=(1, 0, 0), z_dir=(0, 1, 0))):
        with Locations(Location((11.341233129, 11.341233129, 0), (0, 0, 90))):
            Circle(SKETCH_56_R)
        with Locations(Location((11.341233129, -11.341233129, 0), (0, 0, 90))):
            Circle(SKETCH_56_R)
        with Locations(Location((0, -16.038925705, 0), (0, 0, 90))):
            Circle(SKETCH_56_R)
        with Locations(Location((-11.341233129, -11.341233129, 0), (0, 0, 90))):
            Circle(SKETCH_56_R)
        with Locations(Location((-16.038925705, 0, 0), (0, 0, 90))):
            Circle(SKETCH_56_R)
        with Locations(Location((-11.341233129, 11.341233129, 0), (0, 0, 90))):
            Circle(SKETCH_56_R)
        with Locations(Location((0, 16.038925705, 0), (0, 0, 90))):
            Circle(SKETCH_56_R)
    extrude(amount=-EXTRUDE_23_DEPTH)

    # 草圖57 → 除料-伸長38 (cut)
    with BuildSketch(Plane(origin=(0, 0, 34.002813101), x_dir=(-1, 0, 0), z_dir=(0, 0, -1))):
        with Locations((11.939417681, -5.645979726)):
            Circle(SKETCH_57_R)
        with Locations((3.939417681, -5.645979726)):
            Circle(SKETCH_57_R)
        with Locations((-4.060582319, -5.645979726)):
            Circle(SKETCH_57_R)
        with Locations((-12.060582319, -5.645979726)):
            Circle(SKETCH_57_R)
    extrude(amount=-CUT_EXTRUDE_38_DEPTH, mode=Mode.SUBTRACT)


with BuildPart() as cut_extrude_30_piece_2:
    # of the separate pieces the step leaves, piece 2, a body of its own (cut_extrude_30_pieces)
    add(part.part.solids().sort_by_distance((36.774942479, 0, -1.553075405))[0])

    # 草圖44 → 除料-伸長31 (cut)
    with BuildSketch(Plane(origin=(36.774942479, 0, 0), x_dir=(0, 0, -1), z_dir=(1, 0, 0))):
        with Locations((4.709924578, 4.853858474)):
            Rectangle(SKETCH_44_W, SKETCH_44_H)
    extrude(amount=-CUT_EXTRUDE_31_DEPTH, mode=Mode.SUBTRACT)


solid = cut_extrude_30_piece_1.part
